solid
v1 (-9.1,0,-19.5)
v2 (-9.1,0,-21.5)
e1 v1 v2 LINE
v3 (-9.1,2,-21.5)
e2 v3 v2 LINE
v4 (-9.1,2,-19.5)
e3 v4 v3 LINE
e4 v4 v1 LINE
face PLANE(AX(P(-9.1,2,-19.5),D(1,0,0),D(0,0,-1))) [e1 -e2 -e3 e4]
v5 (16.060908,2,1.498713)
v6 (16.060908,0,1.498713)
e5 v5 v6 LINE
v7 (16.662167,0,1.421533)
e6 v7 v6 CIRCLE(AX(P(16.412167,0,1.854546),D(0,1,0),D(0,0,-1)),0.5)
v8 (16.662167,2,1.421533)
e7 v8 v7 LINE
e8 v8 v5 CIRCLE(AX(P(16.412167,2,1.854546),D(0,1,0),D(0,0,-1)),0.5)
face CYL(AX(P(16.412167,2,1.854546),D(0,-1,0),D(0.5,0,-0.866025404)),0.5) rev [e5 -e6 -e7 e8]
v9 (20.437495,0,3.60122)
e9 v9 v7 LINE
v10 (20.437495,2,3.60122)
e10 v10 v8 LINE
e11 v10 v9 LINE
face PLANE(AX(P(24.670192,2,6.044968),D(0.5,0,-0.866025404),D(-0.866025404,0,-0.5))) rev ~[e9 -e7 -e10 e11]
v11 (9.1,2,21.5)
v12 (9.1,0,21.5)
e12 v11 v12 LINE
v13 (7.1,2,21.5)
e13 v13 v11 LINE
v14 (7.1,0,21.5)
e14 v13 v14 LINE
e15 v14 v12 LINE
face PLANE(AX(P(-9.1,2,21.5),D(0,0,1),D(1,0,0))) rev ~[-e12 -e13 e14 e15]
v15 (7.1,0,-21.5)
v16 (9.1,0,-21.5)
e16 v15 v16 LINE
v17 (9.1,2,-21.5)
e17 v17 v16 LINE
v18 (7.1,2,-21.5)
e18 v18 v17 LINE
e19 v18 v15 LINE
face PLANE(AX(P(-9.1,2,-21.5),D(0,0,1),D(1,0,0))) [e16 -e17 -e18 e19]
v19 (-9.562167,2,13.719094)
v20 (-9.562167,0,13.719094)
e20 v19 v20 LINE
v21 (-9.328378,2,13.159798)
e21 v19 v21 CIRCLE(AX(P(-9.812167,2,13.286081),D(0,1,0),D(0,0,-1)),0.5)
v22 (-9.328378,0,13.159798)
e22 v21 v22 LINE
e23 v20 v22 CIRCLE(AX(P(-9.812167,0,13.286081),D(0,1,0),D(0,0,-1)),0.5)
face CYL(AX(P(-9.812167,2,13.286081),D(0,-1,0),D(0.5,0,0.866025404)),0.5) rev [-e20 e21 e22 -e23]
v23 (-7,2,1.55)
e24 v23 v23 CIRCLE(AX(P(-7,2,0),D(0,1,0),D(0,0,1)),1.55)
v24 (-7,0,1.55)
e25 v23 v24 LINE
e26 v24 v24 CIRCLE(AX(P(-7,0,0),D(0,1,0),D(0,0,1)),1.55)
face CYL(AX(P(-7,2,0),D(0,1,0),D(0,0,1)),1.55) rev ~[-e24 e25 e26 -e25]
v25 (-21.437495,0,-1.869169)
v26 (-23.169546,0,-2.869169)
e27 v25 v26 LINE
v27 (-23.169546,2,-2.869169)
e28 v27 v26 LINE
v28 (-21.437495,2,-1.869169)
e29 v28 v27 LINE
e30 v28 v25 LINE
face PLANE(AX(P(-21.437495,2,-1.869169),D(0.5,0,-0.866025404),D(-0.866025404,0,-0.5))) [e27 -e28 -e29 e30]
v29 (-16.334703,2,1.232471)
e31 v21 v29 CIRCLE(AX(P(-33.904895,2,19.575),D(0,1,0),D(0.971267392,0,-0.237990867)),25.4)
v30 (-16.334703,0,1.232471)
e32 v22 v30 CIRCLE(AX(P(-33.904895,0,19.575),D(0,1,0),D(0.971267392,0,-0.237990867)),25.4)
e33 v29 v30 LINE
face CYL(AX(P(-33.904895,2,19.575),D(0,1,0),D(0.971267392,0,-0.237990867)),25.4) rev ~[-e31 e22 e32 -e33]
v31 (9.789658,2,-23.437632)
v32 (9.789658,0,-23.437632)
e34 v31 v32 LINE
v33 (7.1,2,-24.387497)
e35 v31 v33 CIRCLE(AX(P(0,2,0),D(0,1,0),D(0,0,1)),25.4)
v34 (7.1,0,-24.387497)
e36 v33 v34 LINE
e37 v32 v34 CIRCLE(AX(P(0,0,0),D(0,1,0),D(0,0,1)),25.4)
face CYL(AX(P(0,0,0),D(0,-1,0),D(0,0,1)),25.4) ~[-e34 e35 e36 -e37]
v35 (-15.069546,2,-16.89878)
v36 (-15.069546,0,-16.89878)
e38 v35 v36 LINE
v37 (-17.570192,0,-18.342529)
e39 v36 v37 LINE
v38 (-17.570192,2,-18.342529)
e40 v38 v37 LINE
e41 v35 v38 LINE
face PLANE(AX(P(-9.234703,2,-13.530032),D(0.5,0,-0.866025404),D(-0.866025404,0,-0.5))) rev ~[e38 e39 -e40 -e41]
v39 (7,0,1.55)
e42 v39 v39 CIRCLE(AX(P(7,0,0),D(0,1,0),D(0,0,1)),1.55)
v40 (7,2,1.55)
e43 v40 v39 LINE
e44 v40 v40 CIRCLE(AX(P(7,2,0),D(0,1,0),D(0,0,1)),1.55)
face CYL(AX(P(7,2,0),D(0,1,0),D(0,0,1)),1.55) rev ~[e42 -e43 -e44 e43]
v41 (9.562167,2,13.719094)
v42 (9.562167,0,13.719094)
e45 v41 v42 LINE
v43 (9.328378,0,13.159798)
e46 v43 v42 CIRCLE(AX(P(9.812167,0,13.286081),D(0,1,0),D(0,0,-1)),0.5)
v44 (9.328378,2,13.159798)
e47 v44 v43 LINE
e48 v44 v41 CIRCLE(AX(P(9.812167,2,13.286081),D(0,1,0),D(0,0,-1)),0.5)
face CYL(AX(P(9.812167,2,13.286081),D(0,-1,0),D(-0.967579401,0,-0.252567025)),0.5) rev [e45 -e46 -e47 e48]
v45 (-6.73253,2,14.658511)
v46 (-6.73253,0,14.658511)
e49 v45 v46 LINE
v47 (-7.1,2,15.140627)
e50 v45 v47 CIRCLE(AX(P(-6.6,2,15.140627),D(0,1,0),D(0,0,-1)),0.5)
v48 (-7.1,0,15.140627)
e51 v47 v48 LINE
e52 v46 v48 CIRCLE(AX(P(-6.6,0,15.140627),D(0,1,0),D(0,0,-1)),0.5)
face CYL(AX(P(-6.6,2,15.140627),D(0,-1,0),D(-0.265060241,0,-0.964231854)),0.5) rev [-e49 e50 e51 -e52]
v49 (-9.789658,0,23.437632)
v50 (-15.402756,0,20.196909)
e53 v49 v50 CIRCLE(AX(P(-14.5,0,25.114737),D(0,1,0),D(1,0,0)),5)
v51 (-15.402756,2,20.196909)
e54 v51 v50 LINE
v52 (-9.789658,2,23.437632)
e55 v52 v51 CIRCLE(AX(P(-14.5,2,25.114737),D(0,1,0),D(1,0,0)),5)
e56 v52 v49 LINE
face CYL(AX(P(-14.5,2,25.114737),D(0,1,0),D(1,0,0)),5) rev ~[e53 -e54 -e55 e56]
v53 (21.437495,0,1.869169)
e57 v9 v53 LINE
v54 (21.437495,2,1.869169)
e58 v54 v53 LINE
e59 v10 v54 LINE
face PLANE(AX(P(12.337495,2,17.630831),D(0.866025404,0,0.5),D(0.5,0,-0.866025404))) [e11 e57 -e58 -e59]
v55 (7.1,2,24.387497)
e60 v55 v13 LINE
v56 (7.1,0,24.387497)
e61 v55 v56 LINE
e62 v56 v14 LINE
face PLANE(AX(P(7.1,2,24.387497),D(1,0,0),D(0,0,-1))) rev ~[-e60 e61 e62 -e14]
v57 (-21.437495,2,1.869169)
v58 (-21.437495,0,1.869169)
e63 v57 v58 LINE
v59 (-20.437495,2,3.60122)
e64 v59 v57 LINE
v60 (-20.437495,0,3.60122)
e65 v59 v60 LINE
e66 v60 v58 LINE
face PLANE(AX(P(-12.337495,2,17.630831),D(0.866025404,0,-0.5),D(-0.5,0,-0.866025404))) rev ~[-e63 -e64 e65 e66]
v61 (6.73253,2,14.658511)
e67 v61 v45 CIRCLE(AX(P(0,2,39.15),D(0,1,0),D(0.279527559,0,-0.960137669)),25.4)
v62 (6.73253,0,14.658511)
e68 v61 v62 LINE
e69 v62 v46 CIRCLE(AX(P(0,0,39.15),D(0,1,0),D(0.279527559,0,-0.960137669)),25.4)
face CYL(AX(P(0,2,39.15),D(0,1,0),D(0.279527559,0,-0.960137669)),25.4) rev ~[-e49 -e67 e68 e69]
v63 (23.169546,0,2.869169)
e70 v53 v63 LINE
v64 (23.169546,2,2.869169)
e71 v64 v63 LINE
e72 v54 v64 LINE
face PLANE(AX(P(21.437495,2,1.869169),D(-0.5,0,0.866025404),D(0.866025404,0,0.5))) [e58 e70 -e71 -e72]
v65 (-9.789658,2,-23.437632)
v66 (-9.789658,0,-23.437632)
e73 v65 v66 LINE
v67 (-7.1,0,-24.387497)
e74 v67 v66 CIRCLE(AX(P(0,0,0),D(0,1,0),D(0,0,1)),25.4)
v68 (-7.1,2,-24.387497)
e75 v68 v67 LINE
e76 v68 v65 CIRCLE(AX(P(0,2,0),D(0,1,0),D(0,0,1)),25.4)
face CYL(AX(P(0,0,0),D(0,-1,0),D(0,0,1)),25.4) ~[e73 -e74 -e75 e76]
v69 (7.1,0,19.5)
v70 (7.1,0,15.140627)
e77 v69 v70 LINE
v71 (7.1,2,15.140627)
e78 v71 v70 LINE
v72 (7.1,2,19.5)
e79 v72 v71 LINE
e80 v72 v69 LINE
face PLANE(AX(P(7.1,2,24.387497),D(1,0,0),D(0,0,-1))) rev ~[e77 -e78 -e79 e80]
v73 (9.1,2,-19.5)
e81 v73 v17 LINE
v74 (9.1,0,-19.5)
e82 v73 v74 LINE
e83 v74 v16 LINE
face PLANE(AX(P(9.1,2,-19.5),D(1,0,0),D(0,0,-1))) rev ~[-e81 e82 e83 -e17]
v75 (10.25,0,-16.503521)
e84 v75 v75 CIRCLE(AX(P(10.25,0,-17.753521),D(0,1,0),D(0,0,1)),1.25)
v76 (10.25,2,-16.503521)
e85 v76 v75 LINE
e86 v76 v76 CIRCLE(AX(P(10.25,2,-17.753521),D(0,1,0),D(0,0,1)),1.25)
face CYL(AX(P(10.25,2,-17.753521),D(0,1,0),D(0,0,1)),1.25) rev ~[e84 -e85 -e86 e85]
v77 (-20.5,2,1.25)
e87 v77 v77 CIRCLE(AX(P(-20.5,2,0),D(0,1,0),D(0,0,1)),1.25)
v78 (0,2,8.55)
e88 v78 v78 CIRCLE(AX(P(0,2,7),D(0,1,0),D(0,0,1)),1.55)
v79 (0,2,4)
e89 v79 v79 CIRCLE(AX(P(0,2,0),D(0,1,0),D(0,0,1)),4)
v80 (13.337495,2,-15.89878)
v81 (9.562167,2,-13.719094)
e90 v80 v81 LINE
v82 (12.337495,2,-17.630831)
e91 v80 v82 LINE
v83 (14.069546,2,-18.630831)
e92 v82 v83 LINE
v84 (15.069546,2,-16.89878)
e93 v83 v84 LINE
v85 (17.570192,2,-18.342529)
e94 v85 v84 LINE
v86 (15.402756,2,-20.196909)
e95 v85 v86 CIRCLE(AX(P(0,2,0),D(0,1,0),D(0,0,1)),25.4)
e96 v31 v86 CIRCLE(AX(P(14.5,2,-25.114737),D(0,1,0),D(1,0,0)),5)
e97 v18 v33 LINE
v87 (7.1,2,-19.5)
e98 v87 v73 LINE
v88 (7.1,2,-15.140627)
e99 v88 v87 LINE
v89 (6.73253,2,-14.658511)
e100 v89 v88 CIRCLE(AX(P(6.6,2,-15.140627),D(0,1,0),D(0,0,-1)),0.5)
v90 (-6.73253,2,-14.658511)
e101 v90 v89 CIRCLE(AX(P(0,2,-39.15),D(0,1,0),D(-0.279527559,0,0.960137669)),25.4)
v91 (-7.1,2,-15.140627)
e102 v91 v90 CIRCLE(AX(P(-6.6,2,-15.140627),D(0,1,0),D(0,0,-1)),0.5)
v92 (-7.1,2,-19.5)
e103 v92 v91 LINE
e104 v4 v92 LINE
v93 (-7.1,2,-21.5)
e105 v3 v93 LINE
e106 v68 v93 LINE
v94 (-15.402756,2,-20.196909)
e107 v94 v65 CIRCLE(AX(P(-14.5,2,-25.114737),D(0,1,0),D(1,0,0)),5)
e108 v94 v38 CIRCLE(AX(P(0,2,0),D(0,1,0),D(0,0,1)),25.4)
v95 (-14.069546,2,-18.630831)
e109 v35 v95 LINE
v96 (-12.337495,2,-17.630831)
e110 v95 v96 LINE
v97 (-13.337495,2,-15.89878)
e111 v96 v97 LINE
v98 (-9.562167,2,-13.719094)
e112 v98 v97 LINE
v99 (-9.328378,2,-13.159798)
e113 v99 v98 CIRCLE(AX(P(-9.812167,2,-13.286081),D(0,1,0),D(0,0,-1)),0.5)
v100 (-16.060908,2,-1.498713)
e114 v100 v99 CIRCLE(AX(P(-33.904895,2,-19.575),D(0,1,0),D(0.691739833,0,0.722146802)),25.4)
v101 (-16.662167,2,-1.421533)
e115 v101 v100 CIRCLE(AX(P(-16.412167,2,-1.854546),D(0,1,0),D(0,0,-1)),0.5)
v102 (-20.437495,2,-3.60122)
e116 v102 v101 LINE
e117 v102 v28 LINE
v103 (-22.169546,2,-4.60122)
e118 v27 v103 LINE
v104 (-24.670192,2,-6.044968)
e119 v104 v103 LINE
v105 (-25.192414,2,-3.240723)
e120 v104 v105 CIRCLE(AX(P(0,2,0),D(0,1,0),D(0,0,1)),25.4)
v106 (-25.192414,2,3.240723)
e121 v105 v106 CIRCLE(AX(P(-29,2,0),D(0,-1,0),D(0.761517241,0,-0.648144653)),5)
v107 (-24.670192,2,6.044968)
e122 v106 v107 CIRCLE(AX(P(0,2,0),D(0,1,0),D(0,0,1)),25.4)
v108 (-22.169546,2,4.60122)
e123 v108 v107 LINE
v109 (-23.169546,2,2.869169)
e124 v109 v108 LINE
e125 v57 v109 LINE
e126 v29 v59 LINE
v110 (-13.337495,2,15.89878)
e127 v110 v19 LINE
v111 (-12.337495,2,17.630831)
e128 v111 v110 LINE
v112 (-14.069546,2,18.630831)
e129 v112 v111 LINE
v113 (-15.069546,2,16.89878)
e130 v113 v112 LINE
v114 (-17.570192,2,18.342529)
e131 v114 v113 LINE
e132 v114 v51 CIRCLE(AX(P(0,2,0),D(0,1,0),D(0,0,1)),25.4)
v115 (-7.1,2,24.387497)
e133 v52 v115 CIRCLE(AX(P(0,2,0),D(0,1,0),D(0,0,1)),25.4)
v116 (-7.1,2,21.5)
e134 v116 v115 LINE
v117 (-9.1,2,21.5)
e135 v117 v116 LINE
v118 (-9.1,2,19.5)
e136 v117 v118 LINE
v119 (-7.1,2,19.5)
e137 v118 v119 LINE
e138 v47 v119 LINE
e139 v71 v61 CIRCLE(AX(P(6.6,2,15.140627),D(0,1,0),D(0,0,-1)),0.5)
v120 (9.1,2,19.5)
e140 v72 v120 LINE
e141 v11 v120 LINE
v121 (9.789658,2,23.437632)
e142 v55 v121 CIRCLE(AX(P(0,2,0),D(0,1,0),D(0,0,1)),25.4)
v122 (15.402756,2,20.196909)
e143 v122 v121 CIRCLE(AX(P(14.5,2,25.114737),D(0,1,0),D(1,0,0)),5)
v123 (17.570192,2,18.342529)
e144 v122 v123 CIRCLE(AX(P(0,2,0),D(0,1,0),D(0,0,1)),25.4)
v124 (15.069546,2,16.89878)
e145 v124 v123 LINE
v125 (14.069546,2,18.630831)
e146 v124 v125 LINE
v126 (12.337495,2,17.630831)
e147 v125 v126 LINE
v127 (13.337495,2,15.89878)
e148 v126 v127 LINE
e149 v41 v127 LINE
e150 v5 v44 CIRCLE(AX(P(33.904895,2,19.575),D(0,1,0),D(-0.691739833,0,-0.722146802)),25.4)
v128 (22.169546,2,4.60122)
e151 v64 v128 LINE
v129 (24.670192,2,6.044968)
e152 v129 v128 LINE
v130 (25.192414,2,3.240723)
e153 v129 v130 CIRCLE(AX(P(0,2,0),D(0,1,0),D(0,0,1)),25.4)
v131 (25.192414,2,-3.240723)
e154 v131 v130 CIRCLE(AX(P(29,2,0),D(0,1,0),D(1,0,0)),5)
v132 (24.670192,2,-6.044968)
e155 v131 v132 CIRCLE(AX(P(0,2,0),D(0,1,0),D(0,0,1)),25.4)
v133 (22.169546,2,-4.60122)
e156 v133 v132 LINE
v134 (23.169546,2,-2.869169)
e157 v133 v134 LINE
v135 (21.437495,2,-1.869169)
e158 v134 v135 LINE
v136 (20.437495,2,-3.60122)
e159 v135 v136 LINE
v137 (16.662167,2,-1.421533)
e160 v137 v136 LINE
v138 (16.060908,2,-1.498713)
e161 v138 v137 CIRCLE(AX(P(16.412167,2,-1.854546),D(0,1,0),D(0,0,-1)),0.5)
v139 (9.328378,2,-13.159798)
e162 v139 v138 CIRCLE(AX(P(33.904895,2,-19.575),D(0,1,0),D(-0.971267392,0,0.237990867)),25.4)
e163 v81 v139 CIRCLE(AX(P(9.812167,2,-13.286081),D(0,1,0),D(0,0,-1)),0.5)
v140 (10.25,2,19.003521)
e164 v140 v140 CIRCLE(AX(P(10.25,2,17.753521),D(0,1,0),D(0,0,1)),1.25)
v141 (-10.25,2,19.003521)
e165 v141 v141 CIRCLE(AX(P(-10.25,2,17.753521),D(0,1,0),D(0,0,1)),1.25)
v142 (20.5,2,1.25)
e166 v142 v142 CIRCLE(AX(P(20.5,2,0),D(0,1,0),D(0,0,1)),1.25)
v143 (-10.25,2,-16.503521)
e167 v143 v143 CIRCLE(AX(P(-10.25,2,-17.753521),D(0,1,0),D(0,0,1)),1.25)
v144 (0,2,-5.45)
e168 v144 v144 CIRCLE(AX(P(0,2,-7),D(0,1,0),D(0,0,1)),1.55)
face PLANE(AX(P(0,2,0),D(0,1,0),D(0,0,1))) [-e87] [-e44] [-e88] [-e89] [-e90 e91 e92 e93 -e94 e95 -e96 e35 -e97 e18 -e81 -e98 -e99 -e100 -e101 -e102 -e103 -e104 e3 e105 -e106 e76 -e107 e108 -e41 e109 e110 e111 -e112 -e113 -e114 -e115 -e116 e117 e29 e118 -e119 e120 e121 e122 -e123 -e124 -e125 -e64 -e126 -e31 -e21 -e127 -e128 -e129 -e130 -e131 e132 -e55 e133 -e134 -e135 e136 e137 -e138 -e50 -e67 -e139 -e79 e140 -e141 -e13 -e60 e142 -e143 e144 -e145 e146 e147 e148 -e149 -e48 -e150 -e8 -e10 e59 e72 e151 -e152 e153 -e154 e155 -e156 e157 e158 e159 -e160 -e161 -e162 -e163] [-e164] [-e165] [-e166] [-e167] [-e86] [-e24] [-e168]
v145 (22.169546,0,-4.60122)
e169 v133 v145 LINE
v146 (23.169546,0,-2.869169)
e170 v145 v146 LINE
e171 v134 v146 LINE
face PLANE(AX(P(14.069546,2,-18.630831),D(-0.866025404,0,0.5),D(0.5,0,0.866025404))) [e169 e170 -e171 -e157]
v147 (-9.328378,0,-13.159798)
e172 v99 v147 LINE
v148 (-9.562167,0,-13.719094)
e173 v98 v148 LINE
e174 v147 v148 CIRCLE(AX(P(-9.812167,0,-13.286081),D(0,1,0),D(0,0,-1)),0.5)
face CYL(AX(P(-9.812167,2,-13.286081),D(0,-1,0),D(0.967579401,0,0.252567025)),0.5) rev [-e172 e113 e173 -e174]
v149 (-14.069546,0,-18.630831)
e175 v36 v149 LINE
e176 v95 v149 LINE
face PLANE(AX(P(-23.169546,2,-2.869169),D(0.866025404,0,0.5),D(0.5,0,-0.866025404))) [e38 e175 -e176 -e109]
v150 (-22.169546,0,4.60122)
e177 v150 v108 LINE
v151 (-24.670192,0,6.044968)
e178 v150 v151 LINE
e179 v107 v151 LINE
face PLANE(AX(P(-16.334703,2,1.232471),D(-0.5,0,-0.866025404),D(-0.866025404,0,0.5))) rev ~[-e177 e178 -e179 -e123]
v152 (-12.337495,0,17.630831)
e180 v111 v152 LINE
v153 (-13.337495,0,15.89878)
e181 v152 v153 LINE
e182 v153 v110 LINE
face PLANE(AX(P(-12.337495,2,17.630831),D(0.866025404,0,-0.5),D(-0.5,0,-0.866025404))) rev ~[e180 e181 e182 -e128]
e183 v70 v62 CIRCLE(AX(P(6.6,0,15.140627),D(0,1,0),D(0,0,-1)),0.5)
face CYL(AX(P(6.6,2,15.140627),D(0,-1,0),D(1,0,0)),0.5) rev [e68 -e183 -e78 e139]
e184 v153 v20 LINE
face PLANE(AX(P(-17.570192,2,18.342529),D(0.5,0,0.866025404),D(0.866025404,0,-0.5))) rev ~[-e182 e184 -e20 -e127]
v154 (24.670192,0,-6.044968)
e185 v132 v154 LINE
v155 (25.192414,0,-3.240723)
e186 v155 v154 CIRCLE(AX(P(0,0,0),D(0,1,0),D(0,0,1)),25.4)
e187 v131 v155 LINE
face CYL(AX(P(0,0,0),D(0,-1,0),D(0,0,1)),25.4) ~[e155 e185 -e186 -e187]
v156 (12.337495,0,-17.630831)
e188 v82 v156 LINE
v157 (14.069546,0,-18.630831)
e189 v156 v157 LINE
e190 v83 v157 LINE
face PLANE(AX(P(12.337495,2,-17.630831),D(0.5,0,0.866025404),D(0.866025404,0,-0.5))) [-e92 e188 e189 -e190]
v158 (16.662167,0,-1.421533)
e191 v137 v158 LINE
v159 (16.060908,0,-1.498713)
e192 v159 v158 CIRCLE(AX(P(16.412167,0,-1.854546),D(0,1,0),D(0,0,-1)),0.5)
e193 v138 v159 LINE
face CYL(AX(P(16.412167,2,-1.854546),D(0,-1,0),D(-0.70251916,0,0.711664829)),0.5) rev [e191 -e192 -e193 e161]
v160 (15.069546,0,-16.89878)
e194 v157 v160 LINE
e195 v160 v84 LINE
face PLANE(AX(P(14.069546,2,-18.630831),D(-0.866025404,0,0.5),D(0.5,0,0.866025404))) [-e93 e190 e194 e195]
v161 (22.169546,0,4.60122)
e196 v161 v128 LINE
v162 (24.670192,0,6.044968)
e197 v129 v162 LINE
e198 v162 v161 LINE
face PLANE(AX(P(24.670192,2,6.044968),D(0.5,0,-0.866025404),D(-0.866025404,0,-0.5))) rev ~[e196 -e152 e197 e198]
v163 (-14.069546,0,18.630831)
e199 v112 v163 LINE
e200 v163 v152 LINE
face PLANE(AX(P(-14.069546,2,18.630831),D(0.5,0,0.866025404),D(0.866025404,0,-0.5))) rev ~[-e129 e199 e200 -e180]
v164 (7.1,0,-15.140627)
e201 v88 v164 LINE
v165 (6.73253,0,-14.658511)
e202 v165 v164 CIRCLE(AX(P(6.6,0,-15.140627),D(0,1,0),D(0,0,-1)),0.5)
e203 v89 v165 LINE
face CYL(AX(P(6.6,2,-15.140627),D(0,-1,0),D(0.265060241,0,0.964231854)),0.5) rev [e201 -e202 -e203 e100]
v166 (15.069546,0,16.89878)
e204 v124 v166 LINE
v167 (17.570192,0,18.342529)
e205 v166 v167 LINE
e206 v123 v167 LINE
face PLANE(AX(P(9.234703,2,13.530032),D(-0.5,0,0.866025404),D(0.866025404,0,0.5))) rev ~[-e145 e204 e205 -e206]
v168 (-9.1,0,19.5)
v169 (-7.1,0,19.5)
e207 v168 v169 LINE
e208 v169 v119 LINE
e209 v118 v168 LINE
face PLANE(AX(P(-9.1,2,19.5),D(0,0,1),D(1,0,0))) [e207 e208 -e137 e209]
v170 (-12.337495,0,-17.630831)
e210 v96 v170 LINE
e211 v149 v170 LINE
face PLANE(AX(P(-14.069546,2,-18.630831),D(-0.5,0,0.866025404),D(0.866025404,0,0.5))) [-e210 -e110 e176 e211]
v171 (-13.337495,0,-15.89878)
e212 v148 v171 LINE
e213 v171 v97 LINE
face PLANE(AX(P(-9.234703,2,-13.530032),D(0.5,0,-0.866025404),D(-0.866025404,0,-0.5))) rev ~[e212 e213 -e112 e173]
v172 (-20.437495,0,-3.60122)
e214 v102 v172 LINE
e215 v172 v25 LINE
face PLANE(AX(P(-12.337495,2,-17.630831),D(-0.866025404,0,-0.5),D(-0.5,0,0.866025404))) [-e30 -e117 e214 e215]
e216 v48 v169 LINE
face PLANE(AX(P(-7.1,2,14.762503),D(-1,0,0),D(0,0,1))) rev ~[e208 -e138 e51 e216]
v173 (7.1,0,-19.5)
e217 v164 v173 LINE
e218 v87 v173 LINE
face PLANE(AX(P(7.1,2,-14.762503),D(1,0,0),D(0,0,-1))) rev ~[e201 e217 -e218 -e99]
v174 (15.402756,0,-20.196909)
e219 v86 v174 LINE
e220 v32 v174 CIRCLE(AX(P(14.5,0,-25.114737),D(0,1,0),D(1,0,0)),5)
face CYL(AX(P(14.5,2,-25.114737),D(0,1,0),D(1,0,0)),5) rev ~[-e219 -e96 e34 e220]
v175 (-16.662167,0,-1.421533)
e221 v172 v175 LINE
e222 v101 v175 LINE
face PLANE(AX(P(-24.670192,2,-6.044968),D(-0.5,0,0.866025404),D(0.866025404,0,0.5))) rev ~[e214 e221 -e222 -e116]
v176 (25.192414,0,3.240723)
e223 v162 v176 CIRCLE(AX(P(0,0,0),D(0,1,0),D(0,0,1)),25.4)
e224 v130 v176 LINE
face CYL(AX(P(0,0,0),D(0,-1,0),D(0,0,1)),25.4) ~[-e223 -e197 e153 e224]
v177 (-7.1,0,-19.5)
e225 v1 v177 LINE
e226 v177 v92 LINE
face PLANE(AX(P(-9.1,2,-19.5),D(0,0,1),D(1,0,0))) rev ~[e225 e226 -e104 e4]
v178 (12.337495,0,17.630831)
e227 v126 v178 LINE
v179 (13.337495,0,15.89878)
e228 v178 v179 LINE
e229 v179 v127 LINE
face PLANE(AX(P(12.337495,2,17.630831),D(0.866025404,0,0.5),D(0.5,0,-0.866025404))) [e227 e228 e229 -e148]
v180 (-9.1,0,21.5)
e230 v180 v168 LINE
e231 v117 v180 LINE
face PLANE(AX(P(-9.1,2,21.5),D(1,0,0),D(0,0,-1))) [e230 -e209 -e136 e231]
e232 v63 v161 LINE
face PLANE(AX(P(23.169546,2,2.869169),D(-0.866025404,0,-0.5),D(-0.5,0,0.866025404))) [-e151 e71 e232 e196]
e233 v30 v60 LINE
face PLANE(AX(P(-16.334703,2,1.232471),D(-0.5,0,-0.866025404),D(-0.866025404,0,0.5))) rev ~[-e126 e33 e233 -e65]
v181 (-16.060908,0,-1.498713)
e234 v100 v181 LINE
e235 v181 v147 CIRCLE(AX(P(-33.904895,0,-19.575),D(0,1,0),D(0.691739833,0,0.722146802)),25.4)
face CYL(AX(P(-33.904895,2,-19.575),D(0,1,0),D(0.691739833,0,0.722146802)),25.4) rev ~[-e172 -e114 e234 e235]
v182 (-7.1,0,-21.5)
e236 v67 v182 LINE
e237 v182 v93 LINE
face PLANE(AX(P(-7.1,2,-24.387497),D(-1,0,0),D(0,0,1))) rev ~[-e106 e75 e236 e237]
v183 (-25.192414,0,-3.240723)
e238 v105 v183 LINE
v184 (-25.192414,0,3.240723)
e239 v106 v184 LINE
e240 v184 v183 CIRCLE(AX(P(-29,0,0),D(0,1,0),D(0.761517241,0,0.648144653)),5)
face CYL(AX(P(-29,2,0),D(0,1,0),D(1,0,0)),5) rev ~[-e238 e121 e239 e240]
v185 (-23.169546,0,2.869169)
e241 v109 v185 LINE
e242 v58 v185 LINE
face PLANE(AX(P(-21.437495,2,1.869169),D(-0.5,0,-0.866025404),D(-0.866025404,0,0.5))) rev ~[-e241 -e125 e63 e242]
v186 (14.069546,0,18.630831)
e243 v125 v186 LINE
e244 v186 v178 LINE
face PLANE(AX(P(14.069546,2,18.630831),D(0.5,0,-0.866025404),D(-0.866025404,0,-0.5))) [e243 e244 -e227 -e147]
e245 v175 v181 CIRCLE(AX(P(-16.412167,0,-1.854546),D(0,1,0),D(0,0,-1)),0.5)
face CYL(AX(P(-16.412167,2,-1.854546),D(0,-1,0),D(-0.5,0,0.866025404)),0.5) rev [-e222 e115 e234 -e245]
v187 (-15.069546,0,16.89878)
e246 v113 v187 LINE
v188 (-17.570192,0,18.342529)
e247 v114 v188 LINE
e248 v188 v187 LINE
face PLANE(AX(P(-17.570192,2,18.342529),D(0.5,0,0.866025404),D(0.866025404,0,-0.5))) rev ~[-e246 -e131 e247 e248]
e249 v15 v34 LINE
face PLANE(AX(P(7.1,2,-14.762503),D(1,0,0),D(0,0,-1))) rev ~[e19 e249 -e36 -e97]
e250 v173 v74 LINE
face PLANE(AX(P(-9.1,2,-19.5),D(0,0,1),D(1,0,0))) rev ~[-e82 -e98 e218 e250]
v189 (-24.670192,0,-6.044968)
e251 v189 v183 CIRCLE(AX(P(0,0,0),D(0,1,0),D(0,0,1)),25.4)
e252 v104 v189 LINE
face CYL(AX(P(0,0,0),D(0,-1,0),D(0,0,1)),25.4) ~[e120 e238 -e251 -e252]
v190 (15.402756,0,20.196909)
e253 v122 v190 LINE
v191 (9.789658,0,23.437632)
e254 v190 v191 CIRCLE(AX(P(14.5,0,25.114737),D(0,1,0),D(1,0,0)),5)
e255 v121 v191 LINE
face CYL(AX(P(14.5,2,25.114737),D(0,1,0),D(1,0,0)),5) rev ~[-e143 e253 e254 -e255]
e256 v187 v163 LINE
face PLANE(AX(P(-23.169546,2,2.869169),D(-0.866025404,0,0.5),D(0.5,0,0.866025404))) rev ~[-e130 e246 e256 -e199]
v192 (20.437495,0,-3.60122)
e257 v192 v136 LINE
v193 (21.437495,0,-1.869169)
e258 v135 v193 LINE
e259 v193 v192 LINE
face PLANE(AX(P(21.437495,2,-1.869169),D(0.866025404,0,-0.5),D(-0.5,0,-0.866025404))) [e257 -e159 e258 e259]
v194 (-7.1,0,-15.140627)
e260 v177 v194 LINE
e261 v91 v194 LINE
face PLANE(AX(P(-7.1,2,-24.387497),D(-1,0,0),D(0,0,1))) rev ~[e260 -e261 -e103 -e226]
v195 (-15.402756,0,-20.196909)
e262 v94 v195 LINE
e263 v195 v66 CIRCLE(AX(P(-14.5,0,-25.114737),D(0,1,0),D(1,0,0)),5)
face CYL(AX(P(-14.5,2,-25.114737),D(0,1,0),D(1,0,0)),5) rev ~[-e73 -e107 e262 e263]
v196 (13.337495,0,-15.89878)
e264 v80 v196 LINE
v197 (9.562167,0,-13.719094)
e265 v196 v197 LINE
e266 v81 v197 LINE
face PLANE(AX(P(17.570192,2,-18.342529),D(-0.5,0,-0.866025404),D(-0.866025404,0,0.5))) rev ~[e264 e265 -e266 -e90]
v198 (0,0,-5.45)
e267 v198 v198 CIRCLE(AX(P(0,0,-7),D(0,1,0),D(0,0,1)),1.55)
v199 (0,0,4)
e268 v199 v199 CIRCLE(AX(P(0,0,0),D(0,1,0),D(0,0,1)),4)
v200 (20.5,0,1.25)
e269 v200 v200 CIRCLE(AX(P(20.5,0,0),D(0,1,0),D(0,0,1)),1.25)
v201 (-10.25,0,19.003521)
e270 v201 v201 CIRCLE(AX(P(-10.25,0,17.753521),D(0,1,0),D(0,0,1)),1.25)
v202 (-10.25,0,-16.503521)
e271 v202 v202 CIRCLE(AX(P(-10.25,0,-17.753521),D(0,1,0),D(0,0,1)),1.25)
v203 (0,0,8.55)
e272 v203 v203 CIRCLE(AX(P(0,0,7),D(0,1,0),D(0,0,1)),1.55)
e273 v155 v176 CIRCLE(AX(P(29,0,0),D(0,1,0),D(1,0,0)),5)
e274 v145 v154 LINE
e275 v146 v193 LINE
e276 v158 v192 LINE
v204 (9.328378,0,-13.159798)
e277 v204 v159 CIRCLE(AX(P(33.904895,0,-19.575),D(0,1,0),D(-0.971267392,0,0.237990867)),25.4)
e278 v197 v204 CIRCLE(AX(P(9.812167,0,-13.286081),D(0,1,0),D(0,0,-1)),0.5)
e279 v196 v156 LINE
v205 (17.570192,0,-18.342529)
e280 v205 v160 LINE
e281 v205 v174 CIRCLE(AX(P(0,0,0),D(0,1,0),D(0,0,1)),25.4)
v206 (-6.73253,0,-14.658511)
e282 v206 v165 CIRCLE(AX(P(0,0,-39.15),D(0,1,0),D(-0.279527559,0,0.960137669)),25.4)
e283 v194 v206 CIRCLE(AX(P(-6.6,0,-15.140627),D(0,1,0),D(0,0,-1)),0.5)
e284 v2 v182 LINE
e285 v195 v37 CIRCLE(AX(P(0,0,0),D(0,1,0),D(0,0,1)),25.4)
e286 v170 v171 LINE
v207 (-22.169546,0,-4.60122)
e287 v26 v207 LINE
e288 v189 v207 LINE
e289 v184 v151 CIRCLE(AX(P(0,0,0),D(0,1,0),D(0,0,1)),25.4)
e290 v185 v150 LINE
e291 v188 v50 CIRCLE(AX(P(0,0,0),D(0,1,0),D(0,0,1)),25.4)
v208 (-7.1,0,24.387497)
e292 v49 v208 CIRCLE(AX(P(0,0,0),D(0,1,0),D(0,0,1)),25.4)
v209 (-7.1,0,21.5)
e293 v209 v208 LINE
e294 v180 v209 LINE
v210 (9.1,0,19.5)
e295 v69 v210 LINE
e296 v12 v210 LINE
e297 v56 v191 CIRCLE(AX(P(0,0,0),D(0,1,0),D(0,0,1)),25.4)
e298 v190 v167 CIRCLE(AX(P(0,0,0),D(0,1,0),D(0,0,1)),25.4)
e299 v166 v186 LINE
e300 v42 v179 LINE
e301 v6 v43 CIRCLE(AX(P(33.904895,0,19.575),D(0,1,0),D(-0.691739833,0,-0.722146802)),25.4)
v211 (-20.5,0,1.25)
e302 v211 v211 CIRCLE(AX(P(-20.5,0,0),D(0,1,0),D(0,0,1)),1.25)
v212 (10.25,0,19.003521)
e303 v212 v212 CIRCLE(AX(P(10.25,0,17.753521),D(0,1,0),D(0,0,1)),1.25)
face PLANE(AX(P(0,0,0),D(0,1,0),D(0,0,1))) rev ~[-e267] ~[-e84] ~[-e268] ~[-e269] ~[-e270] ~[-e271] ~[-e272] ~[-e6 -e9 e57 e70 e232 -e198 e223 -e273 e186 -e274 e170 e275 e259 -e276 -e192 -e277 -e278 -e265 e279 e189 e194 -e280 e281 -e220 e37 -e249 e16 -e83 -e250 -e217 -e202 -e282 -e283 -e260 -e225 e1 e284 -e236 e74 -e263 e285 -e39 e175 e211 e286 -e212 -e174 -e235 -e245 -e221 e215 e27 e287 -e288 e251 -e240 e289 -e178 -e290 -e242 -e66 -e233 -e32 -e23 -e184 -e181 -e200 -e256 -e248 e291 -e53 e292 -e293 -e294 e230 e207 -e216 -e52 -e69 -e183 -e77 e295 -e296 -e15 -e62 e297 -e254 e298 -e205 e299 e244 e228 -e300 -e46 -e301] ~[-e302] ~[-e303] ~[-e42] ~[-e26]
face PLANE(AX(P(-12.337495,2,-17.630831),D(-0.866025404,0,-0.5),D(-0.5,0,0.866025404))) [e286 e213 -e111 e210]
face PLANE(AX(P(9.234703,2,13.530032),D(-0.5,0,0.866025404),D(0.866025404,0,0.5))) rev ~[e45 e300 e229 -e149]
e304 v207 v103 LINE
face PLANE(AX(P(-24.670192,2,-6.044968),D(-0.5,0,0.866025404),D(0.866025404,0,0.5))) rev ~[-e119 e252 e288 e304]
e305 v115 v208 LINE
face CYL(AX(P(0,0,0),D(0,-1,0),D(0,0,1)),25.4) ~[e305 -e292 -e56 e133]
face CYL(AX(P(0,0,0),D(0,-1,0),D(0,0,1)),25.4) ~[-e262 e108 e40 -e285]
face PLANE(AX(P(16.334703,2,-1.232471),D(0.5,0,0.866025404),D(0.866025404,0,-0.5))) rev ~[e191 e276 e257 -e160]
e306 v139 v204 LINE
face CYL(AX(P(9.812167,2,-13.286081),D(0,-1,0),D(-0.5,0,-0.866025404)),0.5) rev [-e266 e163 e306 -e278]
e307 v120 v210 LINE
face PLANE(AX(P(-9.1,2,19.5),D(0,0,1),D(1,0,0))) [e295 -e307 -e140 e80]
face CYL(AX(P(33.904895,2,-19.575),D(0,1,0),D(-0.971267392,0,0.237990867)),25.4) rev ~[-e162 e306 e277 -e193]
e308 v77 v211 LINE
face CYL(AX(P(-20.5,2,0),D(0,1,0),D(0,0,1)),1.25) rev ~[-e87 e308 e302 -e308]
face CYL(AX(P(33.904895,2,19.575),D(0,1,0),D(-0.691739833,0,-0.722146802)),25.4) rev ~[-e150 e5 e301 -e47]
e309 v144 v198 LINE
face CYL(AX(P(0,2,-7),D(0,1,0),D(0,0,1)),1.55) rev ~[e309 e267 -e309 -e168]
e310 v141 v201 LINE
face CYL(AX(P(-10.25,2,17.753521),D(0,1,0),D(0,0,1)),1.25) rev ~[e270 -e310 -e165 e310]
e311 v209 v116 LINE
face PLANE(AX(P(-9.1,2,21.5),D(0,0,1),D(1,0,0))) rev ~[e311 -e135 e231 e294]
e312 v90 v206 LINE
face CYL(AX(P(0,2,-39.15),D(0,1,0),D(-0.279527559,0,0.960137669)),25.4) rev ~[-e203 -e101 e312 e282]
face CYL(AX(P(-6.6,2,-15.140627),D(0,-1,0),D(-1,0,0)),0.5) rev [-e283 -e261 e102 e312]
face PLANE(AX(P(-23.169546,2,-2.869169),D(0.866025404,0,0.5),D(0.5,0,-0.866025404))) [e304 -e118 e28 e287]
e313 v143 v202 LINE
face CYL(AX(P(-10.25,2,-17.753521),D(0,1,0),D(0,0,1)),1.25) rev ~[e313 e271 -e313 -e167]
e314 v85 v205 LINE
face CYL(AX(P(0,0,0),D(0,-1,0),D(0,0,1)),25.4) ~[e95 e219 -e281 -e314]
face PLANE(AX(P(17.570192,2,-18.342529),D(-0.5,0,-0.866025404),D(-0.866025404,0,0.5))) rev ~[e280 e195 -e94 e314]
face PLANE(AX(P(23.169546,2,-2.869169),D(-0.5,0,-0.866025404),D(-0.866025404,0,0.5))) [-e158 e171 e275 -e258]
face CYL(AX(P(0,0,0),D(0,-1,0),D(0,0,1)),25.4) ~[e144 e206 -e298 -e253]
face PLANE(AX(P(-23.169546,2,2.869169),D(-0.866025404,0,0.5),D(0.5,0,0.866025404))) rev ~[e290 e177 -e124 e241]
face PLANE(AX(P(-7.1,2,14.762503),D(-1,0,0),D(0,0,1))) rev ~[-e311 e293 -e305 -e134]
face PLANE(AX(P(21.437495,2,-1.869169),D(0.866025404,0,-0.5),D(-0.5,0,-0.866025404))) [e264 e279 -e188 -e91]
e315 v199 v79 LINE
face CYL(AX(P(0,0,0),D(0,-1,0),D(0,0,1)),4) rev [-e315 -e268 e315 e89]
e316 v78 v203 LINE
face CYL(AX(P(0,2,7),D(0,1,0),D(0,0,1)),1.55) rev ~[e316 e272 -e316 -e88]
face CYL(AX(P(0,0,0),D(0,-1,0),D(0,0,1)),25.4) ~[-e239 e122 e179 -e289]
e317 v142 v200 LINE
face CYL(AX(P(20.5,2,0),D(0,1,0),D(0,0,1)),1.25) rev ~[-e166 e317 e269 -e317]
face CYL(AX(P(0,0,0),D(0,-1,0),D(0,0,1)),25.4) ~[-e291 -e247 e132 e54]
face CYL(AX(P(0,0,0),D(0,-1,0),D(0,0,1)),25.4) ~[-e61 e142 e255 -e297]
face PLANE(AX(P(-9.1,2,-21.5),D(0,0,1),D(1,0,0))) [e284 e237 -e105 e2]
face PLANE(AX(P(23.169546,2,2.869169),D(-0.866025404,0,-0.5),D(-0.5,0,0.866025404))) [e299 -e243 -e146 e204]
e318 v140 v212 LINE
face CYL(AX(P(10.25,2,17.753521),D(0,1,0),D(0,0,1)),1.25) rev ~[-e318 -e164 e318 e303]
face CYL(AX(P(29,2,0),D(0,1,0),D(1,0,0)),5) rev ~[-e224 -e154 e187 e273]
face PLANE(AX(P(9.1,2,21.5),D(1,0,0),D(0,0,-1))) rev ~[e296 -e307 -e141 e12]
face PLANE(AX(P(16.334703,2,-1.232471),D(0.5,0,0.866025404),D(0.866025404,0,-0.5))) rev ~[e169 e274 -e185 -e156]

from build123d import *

# Parameters (mm, degrees)
SKETCH_1_R          = 25.4
SKETCH_1_R_2        = 4
EXTRUDE_1_DEPTH     = 2
CUT_EXTRUDE_1_DEPTH = 36.9766591
SKETCH_3_R          = 1.25
SKETCH_3_R_2        = 5
CUT_EXTRUDE_2_DEPTH = 36.269108296
FILLET_1_R          = 0.5
SKETCH_4_R          = 1.55
CUT_EXTRUDE_3_DEPTH = 36.119904794
SKETCH_5_W          = 18.2
SKETCH_5_H          = 2
CUT_EXTRUDE_4_DEPTH = 2


with BuildPart() as part:
    # 草图1 → 凸台-拉伸1 (new body)
    with BuildSketch(Plane(origin=(0, 0, 0), x_dir=(1, 0, 0), z_dir=(0, 1, 0))):
        with Locations(Location((0, 0, 0), (0, 0, 270))):
            Circle(SKETCH_1_R)
        with Locations(Location((0, 0, 0), (0, 0, 270))):
            Circle(SKETCH_1_R_2, mode=Mode.SUBTRACT)
    extrude(amount=EXTRUDE_1_DEPTH)

    # 草图2 → 切除-拉伸1 (cut, through all)
    with BuildSketch(Plane(origin=(0, 2, 0), x_dir=(1, 0, 0), z_dir=(0, 1, 0))):
        with BuildLine():
            Line((-7.1, 24.387496797), (-7.1, 14.762503203))
            ThreePointArc((-7.1, 14.762503203), (0, 13.75), (7.1, 14.762503203))
            Line((7.1, 14.762503203), (7.1, 24.387496797))
            ThreePointArc((7.1, 24.387496797), (0, 25.4), (-7.1, 24.387496797))
        make_face()
        with BuildLine():
            Line((17.57019176, 18.342528765), (9.234702798, 13.530031969))
            ThreePointArc((9.234702798, 13.530031969), (11.907849302, 6.875), (16.334702798, 1.232471235))
            Line((16.334702798, 1.232471235), (24.67019176, 6.044968031))
            ThreePointArc((24.67019176, 6.044968031), (21.997045256, 12.7), (17.57019176, 18.342528765))
        make_face()
        with BuildLine():
            Line((24.67019176, -6.044968031), (16.334702798, -1.232471235))
            ThreePointArc((16.334702798, -1.232471235), (11.907849302, -6.875), (9.234702798, -13.530031969))
            Line((9.234702798, -13.530031969), (17.57019176, -18.342528765))
            ThreePointArc((17.57019176, -18.342528765), (21.997045256, -12.7), (24.67019176, -6.044968031))
        make_face()
        with BuildLine():
            Line((7.1, -24.387496797), (7.1, -14.762503203))
            ThreePointArc((7.1, -14.762503203), (0, -13.75), (-7.1, -14.762503203))
            Line((-7.1, -14.762503203), (-7.1, -24.387496797))
            ThreePointArc((-7.1, -24.387496797), (0, -25.4), (7.1, -24.387496797))
        make_face()
        with BuildLine():
            Line((-17.57019176, -18.342528765), (-9.234702798, -13.530031969))
            ThreePointArc((-9.234702798, -13.530031969), (-11.907849302, -6.875), (-16.334702798, -1.232471235))
            Line((-16.334702798, -1.232471235), (-24.67019176, -6.044968031))
            ThreePointArc((-24.67019176, -6.044968031), (-21.997045256, -12.7), (-17.57019176, -18.342528765))
        make_face()
        with BuildLine():
            Line((-24.67019176, 6.044968031), (-16.334702798, 1.232471235))
            ThreePointArc((-16.334702798, 1.232471235), (-11.907849302, 6.875), (-9.234702798, 13.530031969))
            Line((-9.234702798, 13.530031969), (-17.57019176, 18.342528765))
            ThreePointArc((-17.57019176, 18.342528765), (-21.997045256, 12.7), (-24.67019176, 6.044968031))
        make_face()
    extrude(amount=-CUT_EXTRUDE_1_DEPTH, mode=Mode.SUBTRACT)

    # 草图3 → 切除-拉伸2 (cut, through all)
    with BuildSketch(Plane(origin=(0, 2, 0), x_dir=(1, 0, 0), z_dir=(0, 1, 0))):
        with Locations(Location((-10.25, 17.753520778, 0), (0, 0, 270))):
            Circle(SKETCH_3_R)
        with Locations(Location((10.25, 17.753520778, 0), (0, 0, 270))):
            Circle(SKETCH_3_R)
        with Locations(Location((20.5, 0, 0), (0, 0, 270))):
            Circle(SKETCH_3_R)
        with Locations(Location((10.25, -17.753520778, 0), (0, 0, 270))):
            Circle(SKETCH_3_R)
        with Locations(Location((-10.25, -17.753520778, 0), (0, 0, 270))):
            Circle(SKETCH_3_R)
        with Locations(Location((-20.5, 0, 0), (0, 0, 270))):
            Circle(SKETCH_3_R)
        with Locations((-29, 0)):
            Circle(SKETCH_3_R_2)
        with Locations((-14.5, 25.11473671)):
            Circle(SKETCH_3_R_2)
        with Locations((14.5, 25.11473671)):
            Circle(SKETCH_3_R_2)
        with Locations((29, 0)):
            Circle(SKETCH_3_R_2)
        with Locations((14.5, -25.11473671)):
            Circle(SKETCH_3_R_2)
        with Locations((-14.5, -25.11473671)):
            Circle(SKETCH_3_R_2)
    extrude(amount=-CUT_EXTRUDE_2_DEPTH, mode=Mode.SUBTRACT)

    # 圆角1
    fillet_1_edges = [part.edges().sort_by_distance(p)[0] for p in [
        (16.334702798, 1, -1.232471235),
        (9.234702798, 1, -13.530031969),
        (9.234702798, 1, 13.530031969),
        (16.334702798, 1, 1.232471235),
        (-7.1, 1, 14.762503203),
        (7.1, 1, 14.762503203),
        (-9.234702798, 1, 13.530031969),
        (-9.234702798, 1, -13.530031969),
        (-16.334702798, 1, -1.232471235),
        (7.1, 1, -14.762503203),
        (-7.1, 1, -14.762503203),
    ]]
    fillet(fillet_1_edges, radius=FILLET_1_R)

    # 草图4 → 切除-拉伸3 (cut, through all)
    with BuildSketch(Plane(origin=(0, 2, 0), x_dir=(1, 0, 0), z_dir=(0, 1, 0))):
        with Locations(Location((-7, 0, 0), (0, 0, 270))):
            Circle(SKETCH_4_R)
        with Locations(Location((0, 7, 0), (0, 0, 270))):
            Circle(SKETCH_4_R)
        with Locations(Location((7, 0, 0), (0, 0, 270))):
            Circle(SKETCH_4_R)
        with Locations(Location((0, -7, 0), (0, 0, 270))):
            Circle(SKETCH_4_R)
    extrude(amount=-CUT_EXTRUDE_3_DEPTH, mode=Mode.SUBTRACT)

    # 草图5 → 切除-拉伸4 (cut)
    with BuildSketch(Plane(origin=(0, 2, 0), x_dir=(1, 0, 0), z_dir=(0, 1, 0))):
        Polygon((-12.337495374, -17.630831174), (-21.437495374, -1.869168826), (-23.169546181, -2.869168826), (-14.069546181, -18.630831174), align=None)
        Polygon((-14.069546181, 18.630831174), (-12.337495374, 17.630831174), (-21.437495374, 1.869168826), (-23.169546181, 2.869168826), align=None)
        with Locations((0, 20.5)):
            Rectangle(SKETCH_5_W, SKETCH_5_H)
        Polygon((23.169546181, 2.869168826), (21.437495374, 1.869168826), (12.337495374, 17.630831174), (14.069546181, 18.630831174), align=None)
        Polygon((14.069546181, -18.630831174), (12.337495374, -17.630831174), (21.437495374, -1.869168826), (23.169546181, -2.869168826), align=None)
        with Locations((0, -20.5)):
            Rectangle(SKETCH_5_W, SKETCH_5_H)
    extrude(amount=-CUT_EXTRUDE_4_DEPTH, mode=Mode.SUBTRACT)


solid = part.part
